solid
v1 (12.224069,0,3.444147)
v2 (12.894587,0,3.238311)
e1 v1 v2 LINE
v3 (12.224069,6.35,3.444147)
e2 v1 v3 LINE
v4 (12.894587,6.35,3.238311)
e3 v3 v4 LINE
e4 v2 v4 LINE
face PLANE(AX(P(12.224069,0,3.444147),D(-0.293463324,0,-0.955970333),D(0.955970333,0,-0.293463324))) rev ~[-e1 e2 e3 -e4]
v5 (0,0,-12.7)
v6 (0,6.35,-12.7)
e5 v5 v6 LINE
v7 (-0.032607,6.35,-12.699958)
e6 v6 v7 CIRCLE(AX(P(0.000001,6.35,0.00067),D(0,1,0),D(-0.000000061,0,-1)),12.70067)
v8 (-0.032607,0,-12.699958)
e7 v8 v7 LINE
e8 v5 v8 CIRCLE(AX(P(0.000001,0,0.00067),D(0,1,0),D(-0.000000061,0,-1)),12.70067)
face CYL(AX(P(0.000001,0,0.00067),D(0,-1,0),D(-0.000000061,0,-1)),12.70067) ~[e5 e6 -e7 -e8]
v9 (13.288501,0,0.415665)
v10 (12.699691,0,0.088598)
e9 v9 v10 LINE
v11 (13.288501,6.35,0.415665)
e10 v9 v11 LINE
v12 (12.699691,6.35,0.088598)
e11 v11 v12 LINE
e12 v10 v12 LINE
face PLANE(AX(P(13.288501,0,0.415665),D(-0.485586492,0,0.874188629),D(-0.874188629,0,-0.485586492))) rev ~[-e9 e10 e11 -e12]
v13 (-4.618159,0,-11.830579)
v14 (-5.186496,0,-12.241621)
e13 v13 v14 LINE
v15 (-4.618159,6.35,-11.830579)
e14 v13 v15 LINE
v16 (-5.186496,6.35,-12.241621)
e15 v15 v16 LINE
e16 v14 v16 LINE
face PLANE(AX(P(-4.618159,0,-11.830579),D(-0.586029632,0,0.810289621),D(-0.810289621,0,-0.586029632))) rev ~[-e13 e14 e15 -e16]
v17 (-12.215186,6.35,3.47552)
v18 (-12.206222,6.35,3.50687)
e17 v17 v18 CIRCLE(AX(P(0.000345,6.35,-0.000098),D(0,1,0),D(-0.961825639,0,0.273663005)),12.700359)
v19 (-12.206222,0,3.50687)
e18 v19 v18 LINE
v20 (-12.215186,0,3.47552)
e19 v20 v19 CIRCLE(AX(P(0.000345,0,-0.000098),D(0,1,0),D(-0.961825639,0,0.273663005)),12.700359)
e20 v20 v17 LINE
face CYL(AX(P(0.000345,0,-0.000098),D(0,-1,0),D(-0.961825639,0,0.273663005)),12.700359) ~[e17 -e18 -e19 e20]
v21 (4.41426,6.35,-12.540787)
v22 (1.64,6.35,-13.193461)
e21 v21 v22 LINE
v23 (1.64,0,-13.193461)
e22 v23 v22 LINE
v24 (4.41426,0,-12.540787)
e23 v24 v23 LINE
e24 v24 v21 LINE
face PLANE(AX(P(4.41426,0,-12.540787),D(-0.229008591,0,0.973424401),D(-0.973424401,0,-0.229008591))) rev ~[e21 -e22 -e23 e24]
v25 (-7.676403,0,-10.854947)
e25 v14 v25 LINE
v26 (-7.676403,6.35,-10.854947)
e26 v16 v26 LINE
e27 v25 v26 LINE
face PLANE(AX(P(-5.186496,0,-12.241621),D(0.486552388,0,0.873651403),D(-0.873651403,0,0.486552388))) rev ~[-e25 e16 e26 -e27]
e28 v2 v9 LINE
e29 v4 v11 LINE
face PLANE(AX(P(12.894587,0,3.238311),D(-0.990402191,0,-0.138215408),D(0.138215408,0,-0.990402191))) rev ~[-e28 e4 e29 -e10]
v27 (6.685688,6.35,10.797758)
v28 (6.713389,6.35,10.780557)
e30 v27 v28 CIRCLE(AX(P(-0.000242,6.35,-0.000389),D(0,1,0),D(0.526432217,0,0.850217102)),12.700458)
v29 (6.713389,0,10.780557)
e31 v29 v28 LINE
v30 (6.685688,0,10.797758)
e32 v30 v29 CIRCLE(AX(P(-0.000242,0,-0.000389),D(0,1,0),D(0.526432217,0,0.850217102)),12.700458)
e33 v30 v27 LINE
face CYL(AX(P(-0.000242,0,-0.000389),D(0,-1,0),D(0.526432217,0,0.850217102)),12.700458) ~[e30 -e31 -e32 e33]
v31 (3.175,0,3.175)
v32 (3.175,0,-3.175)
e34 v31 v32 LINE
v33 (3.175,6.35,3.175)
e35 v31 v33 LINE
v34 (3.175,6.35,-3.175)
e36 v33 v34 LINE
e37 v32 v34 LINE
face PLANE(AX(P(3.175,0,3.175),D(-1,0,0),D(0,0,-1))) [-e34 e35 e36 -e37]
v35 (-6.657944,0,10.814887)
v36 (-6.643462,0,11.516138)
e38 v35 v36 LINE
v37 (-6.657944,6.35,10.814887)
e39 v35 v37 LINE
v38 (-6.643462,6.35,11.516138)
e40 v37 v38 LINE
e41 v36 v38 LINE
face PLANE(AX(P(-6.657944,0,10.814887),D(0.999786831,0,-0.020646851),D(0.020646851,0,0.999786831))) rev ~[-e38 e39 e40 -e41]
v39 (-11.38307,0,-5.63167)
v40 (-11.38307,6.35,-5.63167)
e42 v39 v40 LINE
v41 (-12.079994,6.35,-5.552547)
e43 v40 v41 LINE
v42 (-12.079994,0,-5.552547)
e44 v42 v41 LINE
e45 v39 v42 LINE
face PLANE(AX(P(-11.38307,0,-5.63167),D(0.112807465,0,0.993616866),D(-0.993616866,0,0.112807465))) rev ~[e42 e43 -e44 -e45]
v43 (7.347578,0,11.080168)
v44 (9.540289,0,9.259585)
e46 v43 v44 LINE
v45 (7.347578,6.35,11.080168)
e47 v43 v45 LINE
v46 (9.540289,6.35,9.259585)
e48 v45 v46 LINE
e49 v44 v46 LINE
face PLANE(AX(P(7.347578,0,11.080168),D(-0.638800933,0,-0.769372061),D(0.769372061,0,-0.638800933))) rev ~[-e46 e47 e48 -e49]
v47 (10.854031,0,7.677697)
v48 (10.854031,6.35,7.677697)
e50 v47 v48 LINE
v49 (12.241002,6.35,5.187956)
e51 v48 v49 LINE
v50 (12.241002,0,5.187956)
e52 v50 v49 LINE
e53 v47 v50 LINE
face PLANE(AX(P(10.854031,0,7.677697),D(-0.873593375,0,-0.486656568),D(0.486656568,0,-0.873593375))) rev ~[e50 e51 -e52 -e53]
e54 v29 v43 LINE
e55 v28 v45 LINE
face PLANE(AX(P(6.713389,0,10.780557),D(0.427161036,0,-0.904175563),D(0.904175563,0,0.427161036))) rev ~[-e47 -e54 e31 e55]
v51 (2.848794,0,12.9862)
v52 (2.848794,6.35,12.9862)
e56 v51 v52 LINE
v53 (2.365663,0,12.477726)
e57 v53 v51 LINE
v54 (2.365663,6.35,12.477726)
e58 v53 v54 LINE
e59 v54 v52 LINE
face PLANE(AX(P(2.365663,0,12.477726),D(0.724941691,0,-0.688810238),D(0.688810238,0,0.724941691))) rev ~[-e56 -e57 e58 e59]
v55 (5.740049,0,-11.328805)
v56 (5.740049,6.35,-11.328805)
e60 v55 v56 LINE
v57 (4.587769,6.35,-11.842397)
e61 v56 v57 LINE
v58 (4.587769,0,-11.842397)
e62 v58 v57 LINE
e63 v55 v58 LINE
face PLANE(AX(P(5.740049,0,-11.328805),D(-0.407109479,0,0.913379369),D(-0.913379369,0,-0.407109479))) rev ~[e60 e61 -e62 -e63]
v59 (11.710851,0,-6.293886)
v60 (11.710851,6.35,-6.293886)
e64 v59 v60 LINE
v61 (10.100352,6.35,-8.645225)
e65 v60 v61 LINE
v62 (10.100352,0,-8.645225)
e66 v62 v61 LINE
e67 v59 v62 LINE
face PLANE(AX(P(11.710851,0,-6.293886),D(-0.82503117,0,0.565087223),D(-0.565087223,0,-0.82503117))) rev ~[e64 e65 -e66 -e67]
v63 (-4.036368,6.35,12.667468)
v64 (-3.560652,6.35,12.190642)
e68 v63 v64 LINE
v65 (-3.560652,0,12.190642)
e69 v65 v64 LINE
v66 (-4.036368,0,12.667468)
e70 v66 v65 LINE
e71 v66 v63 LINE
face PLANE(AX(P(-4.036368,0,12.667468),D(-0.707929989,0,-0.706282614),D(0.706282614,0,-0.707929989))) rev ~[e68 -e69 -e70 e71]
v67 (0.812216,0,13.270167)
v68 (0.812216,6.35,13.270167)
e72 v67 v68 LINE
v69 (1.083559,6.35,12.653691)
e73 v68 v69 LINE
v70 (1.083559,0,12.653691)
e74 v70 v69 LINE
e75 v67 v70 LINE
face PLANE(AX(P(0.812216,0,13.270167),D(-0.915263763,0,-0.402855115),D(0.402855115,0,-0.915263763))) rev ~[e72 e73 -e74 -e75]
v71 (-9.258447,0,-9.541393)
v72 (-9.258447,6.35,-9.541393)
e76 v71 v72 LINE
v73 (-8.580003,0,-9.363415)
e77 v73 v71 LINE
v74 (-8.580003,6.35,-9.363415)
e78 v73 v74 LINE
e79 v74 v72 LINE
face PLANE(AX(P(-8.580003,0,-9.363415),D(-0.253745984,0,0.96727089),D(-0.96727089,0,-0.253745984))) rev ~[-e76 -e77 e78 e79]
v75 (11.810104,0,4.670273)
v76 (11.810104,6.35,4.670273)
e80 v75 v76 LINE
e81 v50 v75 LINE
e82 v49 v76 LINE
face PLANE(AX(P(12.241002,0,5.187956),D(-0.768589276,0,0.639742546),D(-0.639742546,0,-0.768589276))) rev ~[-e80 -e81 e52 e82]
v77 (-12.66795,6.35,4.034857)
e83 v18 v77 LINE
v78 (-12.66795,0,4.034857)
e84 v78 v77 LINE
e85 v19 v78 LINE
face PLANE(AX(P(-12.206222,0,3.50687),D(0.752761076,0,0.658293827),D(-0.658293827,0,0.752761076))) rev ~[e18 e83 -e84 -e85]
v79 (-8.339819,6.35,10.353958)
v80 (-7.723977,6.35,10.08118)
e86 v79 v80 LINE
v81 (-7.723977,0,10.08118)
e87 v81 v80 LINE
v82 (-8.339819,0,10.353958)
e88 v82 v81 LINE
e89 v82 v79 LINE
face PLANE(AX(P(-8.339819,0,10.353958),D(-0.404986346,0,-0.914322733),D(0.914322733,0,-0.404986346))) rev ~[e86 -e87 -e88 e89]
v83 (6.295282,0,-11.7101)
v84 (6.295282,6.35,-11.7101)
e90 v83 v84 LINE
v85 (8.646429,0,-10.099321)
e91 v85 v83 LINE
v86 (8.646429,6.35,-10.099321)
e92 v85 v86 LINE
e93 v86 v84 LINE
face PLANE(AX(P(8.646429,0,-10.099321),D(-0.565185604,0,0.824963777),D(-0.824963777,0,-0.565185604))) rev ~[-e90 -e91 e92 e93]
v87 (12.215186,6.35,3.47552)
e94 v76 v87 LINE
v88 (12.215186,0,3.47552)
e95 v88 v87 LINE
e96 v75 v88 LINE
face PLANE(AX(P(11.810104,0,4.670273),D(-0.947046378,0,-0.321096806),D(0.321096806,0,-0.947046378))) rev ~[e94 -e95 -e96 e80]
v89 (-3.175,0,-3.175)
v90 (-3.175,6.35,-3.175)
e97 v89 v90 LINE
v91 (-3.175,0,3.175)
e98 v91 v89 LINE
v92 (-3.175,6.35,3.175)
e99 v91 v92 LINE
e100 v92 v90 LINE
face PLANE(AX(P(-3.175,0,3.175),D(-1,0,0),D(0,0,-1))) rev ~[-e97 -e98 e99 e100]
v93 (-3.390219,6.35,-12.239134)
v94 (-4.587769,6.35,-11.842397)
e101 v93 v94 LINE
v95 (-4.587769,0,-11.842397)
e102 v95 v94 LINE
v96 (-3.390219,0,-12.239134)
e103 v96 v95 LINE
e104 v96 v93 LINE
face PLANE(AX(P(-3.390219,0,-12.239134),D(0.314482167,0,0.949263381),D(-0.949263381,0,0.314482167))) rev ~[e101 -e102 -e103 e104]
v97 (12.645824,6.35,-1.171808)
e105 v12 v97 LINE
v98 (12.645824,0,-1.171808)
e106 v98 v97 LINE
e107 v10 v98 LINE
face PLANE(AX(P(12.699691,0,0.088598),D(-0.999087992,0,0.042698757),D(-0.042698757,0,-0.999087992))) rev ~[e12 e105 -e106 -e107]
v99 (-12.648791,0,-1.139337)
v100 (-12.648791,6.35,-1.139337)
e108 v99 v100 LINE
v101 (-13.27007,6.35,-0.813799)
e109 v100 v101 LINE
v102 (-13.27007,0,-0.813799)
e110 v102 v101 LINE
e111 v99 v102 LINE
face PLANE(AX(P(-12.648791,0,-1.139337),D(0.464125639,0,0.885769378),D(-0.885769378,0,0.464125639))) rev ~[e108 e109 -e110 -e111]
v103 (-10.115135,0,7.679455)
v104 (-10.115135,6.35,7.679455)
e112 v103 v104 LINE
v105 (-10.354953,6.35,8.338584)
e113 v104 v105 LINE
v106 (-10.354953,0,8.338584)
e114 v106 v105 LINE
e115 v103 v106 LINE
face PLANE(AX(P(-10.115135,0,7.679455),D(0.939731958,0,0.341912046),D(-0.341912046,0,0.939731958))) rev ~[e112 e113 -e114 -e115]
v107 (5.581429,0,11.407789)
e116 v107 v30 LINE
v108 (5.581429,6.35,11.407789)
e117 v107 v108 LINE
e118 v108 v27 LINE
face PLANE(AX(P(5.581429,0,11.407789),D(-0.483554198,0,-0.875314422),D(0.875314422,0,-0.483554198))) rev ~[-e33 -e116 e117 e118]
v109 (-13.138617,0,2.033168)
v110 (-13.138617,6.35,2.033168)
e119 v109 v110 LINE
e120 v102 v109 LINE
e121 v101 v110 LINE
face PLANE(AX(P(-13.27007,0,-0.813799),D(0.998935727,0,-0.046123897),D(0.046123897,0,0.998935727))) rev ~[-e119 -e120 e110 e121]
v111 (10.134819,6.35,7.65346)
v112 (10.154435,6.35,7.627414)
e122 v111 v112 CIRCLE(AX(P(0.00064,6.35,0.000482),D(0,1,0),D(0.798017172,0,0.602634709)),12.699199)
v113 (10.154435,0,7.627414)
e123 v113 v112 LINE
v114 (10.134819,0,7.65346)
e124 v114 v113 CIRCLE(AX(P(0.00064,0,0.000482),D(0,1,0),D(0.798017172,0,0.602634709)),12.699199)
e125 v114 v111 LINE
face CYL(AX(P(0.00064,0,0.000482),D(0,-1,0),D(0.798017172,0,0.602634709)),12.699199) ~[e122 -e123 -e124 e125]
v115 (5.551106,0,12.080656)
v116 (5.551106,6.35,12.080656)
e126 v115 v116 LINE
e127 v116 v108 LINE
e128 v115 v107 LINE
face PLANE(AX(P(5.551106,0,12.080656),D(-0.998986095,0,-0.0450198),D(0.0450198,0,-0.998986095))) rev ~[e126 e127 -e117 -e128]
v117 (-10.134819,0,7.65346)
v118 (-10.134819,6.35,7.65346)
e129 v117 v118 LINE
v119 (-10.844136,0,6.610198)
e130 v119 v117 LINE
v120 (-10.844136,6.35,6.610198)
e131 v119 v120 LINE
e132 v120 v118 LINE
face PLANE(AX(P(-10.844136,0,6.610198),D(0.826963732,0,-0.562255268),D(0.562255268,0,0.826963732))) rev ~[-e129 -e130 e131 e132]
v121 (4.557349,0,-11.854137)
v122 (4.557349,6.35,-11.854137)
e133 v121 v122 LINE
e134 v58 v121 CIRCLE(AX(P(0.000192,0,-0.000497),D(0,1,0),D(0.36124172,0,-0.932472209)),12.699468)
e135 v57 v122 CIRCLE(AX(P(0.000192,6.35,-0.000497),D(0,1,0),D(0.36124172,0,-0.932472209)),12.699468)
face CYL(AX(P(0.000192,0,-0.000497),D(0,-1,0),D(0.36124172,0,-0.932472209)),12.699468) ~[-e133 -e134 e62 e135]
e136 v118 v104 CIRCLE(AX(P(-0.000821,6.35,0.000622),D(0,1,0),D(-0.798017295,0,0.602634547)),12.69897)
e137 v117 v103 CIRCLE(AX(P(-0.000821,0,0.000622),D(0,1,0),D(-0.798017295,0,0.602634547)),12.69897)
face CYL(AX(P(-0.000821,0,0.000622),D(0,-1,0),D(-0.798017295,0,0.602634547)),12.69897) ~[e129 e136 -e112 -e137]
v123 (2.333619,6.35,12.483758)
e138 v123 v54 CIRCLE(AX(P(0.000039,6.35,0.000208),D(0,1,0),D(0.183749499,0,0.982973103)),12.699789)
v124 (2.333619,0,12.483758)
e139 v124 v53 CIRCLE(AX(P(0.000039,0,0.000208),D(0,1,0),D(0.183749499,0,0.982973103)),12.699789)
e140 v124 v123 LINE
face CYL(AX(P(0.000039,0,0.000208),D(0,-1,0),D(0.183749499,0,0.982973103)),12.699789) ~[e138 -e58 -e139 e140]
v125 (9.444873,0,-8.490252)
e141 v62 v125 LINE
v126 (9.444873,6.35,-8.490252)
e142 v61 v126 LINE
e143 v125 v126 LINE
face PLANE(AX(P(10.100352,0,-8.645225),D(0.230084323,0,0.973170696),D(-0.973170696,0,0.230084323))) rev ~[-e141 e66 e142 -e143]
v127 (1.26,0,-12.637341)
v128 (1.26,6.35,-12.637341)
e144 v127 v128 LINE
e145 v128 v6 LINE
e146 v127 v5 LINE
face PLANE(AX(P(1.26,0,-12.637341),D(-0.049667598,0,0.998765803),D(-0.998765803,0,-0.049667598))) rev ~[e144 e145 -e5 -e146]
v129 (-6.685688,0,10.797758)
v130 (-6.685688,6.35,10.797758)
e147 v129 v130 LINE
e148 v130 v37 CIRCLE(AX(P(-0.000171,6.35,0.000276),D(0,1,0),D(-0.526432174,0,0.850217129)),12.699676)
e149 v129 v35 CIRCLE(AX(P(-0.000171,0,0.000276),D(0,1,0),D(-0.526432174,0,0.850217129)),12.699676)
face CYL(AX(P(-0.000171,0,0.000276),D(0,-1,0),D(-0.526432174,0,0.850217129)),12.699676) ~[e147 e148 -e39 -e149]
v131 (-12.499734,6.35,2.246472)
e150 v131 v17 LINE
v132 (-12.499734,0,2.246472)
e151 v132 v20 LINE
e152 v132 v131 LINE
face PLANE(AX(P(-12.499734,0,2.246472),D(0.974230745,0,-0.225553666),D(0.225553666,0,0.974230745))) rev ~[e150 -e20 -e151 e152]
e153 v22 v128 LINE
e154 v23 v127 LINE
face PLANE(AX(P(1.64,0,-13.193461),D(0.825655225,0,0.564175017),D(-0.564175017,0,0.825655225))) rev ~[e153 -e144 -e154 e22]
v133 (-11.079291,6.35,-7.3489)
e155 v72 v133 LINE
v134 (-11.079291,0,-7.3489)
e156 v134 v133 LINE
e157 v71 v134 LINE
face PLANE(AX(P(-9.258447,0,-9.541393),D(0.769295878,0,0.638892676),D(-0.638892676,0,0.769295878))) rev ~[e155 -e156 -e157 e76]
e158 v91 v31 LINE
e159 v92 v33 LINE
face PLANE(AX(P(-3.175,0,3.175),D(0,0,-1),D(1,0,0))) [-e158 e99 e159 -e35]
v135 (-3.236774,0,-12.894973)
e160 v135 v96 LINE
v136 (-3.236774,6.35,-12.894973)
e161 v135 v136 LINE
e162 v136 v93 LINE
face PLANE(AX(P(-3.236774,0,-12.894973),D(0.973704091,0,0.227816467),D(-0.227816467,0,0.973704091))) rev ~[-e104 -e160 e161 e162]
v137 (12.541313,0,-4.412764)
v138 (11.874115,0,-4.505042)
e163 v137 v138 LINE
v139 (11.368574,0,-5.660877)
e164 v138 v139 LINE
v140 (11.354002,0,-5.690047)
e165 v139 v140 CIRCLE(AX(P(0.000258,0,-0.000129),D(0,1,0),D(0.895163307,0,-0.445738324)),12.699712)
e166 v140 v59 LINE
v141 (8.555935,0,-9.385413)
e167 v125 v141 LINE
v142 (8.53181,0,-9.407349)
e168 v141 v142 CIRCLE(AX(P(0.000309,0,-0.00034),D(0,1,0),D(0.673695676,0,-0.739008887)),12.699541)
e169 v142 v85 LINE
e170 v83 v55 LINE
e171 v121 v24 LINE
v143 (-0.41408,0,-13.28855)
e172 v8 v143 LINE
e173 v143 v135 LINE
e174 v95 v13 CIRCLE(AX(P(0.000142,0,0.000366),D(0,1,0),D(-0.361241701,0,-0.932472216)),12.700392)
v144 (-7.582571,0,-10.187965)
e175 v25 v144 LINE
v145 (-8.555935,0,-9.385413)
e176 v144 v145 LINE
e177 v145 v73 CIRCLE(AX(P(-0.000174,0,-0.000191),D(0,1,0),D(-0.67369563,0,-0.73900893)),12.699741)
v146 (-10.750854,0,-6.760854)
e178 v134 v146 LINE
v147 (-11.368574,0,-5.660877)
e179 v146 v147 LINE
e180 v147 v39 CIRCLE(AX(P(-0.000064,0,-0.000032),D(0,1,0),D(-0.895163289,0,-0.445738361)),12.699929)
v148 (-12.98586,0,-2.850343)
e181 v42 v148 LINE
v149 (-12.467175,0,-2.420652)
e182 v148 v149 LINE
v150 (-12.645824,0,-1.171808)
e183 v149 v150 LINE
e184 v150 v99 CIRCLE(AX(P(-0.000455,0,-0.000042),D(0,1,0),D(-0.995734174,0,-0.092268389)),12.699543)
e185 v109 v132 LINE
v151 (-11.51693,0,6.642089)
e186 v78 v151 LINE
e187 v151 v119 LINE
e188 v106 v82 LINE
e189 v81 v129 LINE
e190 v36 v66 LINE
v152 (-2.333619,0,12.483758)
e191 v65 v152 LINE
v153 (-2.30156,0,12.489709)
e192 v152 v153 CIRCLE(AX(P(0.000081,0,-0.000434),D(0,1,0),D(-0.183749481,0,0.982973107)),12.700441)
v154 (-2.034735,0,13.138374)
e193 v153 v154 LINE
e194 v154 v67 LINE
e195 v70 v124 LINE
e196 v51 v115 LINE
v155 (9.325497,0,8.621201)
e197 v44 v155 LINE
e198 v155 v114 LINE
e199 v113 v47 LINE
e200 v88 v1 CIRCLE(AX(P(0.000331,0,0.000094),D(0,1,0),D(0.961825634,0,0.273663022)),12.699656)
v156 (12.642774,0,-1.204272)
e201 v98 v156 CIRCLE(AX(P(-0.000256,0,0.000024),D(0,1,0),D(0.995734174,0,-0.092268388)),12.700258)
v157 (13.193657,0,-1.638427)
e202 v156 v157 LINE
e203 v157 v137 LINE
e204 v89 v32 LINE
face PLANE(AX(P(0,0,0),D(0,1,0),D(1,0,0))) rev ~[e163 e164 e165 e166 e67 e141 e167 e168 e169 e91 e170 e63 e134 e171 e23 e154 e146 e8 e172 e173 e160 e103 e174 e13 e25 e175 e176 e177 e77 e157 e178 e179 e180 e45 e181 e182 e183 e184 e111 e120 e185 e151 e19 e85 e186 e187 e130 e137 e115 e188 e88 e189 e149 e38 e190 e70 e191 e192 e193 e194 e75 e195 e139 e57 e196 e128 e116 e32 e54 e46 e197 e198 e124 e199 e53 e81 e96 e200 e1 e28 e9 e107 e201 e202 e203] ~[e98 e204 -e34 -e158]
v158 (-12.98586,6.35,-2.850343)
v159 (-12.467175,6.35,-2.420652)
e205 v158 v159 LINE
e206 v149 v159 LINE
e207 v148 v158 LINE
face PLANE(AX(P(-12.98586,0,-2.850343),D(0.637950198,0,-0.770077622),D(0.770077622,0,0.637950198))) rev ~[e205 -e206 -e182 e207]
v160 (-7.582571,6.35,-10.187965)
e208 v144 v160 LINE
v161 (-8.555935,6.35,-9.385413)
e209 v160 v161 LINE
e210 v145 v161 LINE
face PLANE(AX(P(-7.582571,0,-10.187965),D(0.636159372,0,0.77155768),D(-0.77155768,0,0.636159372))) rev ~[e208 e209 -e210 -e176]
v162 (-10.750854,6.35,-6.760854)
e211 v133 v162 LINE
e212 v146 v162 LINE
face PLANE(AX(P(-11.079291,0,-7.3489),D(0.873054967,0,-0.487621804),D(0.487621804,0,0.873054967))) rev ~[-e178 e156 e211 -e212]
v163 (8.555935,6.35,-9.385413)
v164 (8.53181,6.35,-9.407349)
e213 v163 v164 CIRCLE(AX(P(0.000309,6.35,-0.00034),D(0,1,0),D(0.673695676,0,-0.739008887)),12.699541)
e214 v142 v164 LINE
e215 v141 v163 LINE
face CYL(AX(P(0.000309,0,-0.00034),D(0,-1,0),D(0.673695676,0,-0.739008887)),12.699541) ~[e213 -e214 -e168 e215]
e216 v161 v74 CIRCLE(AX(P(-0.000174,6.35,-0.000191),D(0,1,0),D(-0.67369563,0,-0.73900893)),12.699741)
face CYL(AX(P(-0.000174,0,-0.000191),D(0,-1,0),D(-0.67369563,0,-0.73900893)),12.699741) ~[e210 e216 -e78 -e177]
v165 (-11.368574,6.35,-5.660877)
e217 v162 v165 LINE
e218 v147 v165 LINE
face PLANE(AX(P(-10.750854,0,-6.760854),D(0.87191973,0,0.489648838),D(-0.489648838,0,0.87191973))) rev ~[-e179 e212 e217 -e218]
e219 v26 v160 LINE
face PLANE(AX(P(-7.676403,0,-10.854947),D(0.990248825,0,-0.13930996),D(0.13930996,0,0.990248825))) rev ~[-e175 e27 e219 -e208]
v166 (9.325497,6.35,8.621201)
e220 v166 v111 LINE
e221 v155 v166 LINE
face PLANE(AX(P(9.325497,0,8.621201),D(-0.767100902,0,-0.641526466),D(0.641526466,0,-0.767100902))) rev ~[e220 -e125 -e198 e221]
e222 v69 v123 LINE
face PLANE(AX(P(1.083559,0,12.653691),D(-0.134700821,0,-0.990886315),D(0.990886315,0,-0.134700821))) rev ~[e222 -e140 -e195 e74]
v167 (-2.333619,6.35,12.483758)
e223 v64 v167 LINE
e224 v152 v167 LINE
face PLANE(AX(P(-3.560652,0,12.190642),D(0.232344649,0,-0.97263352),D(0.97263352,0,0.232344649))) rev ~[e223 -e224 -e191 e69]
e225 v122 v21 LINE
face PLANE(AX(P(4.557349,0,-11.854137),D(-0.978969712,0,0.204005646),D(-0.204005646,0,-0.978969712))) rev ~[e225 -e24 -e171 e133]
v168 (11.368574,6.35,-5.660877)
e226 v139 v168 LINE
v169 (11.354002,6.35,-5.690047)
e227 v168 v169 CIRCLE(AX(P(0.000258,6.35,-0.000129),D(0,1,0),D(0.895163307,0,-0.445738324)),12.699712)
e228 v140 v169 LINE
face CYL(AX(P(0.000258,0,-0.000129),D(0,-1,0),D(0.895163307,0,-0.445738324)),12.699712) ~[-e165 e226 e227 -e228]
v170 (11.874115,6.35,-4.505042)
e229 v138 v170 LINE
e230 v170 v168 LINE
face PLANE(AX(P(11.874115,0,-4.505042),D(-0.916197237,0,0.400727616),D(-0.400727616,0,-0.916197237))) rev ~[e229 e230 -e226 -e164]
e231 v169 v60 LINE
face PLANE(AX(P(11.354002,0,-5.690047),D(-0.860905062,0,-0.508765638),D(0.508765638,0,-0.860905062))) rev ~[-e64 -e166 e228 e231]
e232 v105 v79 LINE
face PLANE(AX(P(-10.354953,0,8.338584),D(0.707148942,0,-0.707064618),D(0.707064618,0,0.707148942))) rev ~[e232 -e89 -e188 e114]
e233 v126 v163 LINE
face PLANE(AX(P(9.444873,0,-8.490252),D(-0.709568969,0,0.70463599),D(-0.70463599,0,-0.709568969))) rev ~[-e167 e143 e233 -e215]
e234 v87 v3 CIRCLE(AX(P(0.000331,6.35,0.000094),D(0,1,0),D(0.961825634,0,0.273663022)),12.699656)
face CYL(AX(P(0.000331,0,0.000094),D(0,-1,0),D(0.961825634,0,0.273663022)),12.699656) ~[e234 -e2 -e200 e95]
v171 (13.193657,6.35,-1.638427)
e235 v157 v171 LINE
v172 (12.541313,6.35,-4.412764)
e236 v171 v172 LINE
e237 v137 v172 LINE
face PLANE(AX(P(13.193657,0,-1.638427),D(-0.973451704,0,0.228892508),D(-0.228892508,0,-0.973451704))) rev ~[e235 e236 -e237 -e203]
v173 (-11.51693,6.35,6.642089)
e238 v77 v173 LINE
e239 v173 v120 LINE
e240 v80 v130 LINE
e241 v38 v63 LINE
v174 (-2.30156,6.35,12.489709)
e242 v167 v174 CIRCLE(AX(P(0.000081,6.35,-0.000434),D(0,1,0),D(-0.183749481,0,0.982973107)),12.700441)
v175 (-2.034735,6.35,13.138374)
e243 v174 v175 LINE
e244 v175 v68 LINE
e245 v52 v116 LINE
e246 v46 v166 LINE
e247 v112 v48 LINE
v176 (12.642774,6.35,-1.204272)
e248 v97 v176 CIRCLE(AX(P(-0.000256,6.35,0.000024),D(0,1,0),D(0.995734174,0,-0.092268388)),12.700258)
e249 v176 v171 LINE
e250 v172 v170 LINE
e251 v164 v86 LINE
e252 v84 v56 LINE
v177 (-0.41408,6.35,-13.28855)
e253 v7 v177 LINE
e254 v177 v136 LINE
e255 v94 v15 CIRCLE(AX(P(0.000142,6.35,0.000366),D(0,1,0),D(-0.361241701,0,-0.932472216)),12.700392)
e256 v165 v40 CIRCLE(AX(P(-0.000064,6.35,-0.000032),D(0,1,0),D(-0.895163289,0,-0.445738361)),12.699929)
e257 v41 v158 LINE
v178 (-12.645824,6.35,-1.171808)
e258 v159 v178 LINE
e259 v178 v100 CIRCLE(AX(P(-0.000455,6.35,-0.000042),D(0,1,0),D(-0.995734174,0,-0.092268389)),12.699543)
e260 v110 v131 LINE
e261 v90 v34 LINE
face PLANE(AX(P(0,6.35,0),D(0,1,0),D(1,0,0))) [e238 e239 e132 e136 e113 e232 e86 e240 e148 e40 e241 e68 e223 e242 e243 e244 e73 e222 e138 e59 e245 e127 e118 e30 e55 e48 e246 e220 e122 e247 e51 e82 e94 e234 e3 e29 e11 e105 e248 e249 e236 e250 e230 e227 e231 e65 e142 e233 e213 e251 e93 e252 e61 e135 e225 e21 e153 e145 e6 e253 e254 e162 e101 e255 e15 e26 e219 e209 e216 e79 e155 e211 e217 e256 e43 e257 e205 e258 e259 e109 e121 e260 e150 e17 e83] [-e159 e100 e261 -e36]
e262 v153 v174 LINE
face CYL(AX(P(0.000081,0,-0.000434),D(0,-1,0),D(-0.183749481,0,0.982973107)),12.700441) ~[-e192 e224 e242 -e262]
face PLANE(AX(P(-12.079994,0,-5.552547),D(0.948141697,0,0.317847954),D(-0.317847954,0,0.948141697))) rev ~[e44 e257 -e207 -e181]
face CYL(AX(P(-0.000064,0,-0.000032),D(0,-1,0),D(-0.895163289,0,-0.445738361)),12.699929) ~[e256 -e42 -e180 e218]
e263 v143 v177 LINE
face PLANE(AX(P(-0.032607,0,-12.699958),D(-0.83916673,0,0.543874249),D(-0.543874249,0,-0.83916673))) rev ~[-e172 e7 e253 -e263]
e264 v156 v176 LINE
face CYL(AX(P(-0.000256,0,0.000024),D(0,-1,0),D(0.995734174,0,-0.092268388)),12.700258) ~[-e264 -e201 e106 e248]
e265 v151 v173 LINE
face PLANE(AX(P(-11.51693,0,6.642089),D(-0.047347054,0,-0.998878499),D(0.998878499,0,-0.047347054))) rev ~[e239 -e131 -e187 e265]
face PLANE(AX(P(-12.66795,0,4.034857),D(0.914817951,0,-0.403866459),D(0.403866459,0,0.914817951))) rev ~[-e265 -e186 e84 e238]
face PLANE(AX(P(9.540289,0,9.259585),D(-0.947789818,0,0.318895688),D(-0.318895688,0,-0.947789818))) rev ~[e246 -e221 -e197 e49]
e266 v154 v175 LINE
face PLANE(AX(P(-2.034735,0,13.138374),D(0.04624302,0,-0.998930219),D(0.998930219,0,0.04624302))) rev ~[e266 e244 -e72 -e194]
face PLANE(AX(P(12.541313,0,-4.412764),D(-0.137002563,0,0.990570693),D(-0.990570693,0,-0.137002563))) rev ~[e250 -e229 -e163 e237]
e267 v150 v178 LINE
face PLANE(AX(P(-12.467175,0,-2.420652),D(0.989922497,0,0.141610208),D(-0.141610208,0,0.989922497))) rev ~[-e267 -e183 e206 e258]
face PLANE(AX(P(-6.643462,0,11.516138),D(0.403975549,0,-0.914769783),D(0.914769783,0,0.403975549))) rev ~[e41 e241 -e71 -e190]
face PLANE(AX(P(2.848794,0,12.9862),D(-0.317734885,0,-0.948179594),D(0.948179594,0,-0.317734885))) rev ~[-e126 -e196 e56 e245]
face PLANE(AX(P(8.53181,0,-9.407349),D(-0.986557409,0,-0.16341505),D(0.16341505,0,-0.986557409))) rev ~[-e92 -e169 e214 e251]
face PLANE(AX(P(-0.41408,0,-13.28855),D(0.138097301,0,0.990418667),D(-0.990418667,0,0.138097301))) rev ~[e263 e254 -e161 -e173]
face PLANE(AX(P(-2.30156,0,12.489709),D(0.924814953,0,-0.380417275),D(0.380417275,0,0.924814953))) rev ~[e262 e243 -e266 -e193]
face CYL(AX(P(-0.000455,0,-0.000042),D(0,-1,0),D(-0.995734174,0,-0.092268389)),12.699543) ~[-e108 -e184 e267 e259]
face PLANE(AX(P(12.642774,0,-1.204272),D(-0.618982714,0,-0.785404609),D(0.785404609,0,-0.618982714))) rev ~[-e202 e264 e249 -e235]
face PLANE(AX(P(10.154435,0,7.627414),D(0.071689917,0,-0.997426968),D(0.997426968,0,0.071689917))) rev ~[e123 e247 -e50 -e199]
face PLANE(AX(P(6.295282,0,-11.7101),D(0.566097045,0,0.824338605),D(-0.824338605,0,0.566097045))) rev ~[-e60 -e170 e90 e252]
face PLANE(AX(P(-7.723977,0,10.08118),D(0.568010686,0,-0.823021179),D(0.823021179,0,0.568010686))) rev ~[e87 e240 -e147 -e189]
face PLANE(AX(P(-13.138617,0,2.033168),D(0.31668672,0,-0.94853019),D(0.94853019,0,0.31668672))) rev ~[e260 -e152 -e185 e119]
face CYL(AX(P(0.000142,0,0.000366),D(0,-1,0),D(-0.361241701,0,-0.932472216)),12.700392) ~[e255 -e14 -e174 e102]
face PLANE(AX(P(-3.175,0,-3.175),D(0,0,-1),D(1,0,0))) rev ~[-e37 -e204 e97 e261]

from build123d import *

# Parameters (mm, degrees)
BELT_PULLEY_W       = 6.35
BELT_PULLEY_H       = 6.35
BOSS_EXTRUDE1_DEPTH = 6.35


with BuildPart() as part:
    # Belt Pulley → Boss-Extrude1 (new body)
    with BuildSketch(Plane(origin=(0, 0, 0), x_dir=(1, 0, 0), z_dir=(0, 1, 0))):
        with BuildLine():
            Line((1.26, 12.637341493), (0, 12.7))
            ThreePointArc((0, 12.7), (-0.016303366, 12.699989535), (-0.032606705, 12.699958142))
            Line((-0.032606705, 12.699958142), (-0.41408034, 13.288550052))
            Line((-0.41408034, 13.288550052), (-3.23677354, 12.894972743))
            Line((-3.23677354, 12.894972743), (-3.390219288, 12.239134495))
            Line((-3.390219288, 12.239134495), (-4.587769161, 11.842397313))
            ThreePointArc((-4.587769161, 11.842397313), (-4.602967816, 11.8364981), (-4.618158887, 11.830579381))
            Line((-4.618158887, 11.830579381), (-5.18649638, 12.24162082))
            Line((-5.18649638, 12.24162082), (-7.676402878, 10.854946515))
            Line((-7.676402878, 10.854946515), (-7.582570675, 10.187964564))
            Line((-7.582570675, 10.187964564), (-8.555934674, 9.385413249))
            ThreePointArc((-8.555934674, 9.385413249), (-8.567975957, 9.374422009), (-8.58000312, 9.36341532))
            Line((-8.58000312, 9.36341532), (-9.258447344, 9.541392864))
            Line((-9.258447344, 9.541392864), (-11.079291471, 7.348899611))
            Line((-11.079291471, 7.348899611), (-10.750853876, 6.760853565))
            Line((-10.750853876, 6.760853565), (-11.3685738, 5.660877118))
            ThreePointArc((-11.3685738, 5.660877118), (-11.375831468, 5.646278279), (-11.383070389, 5.631670135))
            Line((-11.383070389, 5.631670135), (-12.079993691, 5.55254693))
            Line((-12.079993691, 5.55254693), (-12.985860359, 2.850343093))
            Line((-12.985860359, 2.850343093), (-12.467174689, 2.42065183))
            Line((-12.467174689, 2.42065183), (-12.645824039, 1.171808165))
            ThreePointArc((-12.645824039, 1.171808165), (-12.647317904, 1.155573381), (-12.648790926, 1.139336692))
            Line((-12.648790926, 1.139336692), (-13.270069953, 0.813798767))
            Line((-13.270069953, 0.813798767), (-13.138616847, -2.033168055))
            Line((-13.138616847, -2.033168055), (-12.499734477, -2.246472349))
            Line((-12.499734477, -2.246472349), (-12.215185668, -3.475519974))
            ThreePointArc((-12.215185668, -3.475519974), (-12.210713975, -3.491198106), (-12.20622216, -3.506870484))
            Line((-12.20622216, -3.506870484), (-12.667949736, -4.03485743))
            Line((-12.667949736, -4.03485743), (-11.516930327, -6.64208859))
            Line((-11.516930327, -6.64208859), (-10.84413586, -6.610197989))
            Line((-10.84413586, -6.610197989), (-10.134818786, -7.653459882))
            ThreePointArc((-10.134818786, -7.653459882), (-10.124985463, -7.666463943), (-10.115135453, -7.679455369))
            Line((-10.115135453, -7.679455369), (-10.354952711, -8.338583773))
            Line((-10.354952711, -8.338583773), (-8.339818549, -10.353958256))
            Line((-8.339818549, -10.353958256), (-7.723976606, -10.081179762))
            Line((-7.723976606, -10.081179762), (-6.685688469, -10.797757624))
            ThreePointArc((-6.685688469, -10.797757624), (-6.671821559, -10.806331343), (-6.657943654, -10.814887253))
            Line((-6.657943654, -10.814887253), (-6.643461944, -11.516138172))
            Line((-6.643461944, -11.516138172), (-4.036368063, -12.667468487))
            Line((-4.036368063, -12.667468487), (-3.560651511, -12.190642346))
            Line((-3.560651511, -12.190642346), (-2.333618876, -12.483758366))
            ThreePointArc((-2.333618876, -12.483758366), (-2.317591183, -12.486743815), (-2.301559671, -12.489708687))
            Line((-2.301559671, -12.489708687), (-2.034734829, -13.138374297))
            Line((-2.034734829, -13.138374297), (0.812216296, -13.270166905))
            Line((0.812216296, -13.270166905), (1.0835593, -12.653691131))
            Line((1.0835593, -12.653691131), (2.333618876, -12.483758366))
            ThreePointArc((2.333618876, -12.483758366), (2.349642724, -12.480752344), (2.365662699, -12.477725754))
            Line((2.365662699, -12.477725754), (2.8487945, -12.986200172))
            Line((2.8487945, -12.986200172), (5.551106344, -12.08065575))
            Line((5.551106344, -12.08065575), (5.581429424, -11.407788812))
            Line((5.581429424, -11.407788812), (6.685688469, -10.797757624))
            ThreePointArc((6.685688469, -10.797757624), (6.699544361, -10.78916611), (6.713389212, -10.780556817))
            Line((6.713389212, -10.780556817), (7.347578346, -11.080167754))
            Line((7.347578346, -11.080167754), (9.54028872, -9.259585095))
            Line((9.54028872, -9.259585095), (9.325496576, -8.621201402))
            Line((9.325496576, -8.621201402), (10.134818786, -7.653459882))
            ThreePointArc((10.134818786, -7.653459882), (10.144635409, -7.640443209), (10.154435313, -7.627413944))
            Line((10.154435313, -7.627413944), (10.854031022, -7.677697283))
            Line((10.854031022, -7.677697283), (12.24100224, -5.187956164))
            Line((12.24100224, -5.187956164), (11.810103742, -4.67027297))
            Line((11.810103742, -4.67027297), (12.215185668, -3.475519974))
            ThreePointArc((12.215185668, -3.475519974), (12.219637231, -3.459836115), (12.224068656, -3.444146554))
            Line((12.224068656, -3.444146554), (12.894586664, -3.238311251))
            Line((12.894586664, -3.238311251), (13.288500578, -0.415665006))
            Line((13.288500578, -0.415665006), (12.699690955, -0.088598295))
            Line((12.699690955, -0.088598295), (12.645824039, 1.171808165))
            ThreePointArc((12.645824039, 1.171808165), (12.644309334, 1.188041018), (12.642773792, 1.204271914))
            Line((12.642773792, 1.204271914), (13.193656926, 1.638426659))
            Line((13.193656926, 1.638426659), (12.541313278, 4.412764015))
            Line((12.541313278, 4.412764015), (11.874114533, 4.505042071))
            Line((11.874114533, 4.505042071), (11.3685738, 5.660877118))
            ThreePointArc((11.3685738, 5.660877118), (11.361297397, 5.675466629), (11.354002271, 5.690046786))
            Line((11.354002271, 5.690046786), (11.710850711, 6.293885971))
            Line((11.710850711, 6.293885971), (10.100352127, 8.645224804))
            Line((10.100352127, 8.645224804), (9.444873147, 8.490251542))
            Line((9.444873147, 8.490251542), (8.555934674, 9.385413249))
            ThreePointArc((8.555934674, 9.385413249), (8.543879292, 9.396389022), (8.531809829, 9.40734931))
            Line((8.531809829, 9.40734931), (8.646429216, 10.099321106))
            Line((8.646429216, 10.099321106), (6.295282453, 11.710100078))
            Line((6.295282453, 11.710100078), (5.740049306, 11.328805496))
            Line((5.740049306, 11.328805496), (4.587769161, 11.842397313))
            ThreePointArc((4.587769161, 11.842397313), (4.572562944, 11.848277011), (4.557349193, 11.854137182))
            Line((4.557349193, 11.854137182), (4.414259544, 12.540786964))
            Line((4.414259544, 12.540786964), (1.64, 13.193461449))
            Line((1.64, 13.193461449), (1.26, 12.637341493))
        make_face()
        Rectangle(BELT_PULLEY_W, BELT_PULLEY_H, mode=Mode.SUBTRACT)
    extrude(amount=BOSS_EXTRUDE1_DEPTH)


solid = part.part
